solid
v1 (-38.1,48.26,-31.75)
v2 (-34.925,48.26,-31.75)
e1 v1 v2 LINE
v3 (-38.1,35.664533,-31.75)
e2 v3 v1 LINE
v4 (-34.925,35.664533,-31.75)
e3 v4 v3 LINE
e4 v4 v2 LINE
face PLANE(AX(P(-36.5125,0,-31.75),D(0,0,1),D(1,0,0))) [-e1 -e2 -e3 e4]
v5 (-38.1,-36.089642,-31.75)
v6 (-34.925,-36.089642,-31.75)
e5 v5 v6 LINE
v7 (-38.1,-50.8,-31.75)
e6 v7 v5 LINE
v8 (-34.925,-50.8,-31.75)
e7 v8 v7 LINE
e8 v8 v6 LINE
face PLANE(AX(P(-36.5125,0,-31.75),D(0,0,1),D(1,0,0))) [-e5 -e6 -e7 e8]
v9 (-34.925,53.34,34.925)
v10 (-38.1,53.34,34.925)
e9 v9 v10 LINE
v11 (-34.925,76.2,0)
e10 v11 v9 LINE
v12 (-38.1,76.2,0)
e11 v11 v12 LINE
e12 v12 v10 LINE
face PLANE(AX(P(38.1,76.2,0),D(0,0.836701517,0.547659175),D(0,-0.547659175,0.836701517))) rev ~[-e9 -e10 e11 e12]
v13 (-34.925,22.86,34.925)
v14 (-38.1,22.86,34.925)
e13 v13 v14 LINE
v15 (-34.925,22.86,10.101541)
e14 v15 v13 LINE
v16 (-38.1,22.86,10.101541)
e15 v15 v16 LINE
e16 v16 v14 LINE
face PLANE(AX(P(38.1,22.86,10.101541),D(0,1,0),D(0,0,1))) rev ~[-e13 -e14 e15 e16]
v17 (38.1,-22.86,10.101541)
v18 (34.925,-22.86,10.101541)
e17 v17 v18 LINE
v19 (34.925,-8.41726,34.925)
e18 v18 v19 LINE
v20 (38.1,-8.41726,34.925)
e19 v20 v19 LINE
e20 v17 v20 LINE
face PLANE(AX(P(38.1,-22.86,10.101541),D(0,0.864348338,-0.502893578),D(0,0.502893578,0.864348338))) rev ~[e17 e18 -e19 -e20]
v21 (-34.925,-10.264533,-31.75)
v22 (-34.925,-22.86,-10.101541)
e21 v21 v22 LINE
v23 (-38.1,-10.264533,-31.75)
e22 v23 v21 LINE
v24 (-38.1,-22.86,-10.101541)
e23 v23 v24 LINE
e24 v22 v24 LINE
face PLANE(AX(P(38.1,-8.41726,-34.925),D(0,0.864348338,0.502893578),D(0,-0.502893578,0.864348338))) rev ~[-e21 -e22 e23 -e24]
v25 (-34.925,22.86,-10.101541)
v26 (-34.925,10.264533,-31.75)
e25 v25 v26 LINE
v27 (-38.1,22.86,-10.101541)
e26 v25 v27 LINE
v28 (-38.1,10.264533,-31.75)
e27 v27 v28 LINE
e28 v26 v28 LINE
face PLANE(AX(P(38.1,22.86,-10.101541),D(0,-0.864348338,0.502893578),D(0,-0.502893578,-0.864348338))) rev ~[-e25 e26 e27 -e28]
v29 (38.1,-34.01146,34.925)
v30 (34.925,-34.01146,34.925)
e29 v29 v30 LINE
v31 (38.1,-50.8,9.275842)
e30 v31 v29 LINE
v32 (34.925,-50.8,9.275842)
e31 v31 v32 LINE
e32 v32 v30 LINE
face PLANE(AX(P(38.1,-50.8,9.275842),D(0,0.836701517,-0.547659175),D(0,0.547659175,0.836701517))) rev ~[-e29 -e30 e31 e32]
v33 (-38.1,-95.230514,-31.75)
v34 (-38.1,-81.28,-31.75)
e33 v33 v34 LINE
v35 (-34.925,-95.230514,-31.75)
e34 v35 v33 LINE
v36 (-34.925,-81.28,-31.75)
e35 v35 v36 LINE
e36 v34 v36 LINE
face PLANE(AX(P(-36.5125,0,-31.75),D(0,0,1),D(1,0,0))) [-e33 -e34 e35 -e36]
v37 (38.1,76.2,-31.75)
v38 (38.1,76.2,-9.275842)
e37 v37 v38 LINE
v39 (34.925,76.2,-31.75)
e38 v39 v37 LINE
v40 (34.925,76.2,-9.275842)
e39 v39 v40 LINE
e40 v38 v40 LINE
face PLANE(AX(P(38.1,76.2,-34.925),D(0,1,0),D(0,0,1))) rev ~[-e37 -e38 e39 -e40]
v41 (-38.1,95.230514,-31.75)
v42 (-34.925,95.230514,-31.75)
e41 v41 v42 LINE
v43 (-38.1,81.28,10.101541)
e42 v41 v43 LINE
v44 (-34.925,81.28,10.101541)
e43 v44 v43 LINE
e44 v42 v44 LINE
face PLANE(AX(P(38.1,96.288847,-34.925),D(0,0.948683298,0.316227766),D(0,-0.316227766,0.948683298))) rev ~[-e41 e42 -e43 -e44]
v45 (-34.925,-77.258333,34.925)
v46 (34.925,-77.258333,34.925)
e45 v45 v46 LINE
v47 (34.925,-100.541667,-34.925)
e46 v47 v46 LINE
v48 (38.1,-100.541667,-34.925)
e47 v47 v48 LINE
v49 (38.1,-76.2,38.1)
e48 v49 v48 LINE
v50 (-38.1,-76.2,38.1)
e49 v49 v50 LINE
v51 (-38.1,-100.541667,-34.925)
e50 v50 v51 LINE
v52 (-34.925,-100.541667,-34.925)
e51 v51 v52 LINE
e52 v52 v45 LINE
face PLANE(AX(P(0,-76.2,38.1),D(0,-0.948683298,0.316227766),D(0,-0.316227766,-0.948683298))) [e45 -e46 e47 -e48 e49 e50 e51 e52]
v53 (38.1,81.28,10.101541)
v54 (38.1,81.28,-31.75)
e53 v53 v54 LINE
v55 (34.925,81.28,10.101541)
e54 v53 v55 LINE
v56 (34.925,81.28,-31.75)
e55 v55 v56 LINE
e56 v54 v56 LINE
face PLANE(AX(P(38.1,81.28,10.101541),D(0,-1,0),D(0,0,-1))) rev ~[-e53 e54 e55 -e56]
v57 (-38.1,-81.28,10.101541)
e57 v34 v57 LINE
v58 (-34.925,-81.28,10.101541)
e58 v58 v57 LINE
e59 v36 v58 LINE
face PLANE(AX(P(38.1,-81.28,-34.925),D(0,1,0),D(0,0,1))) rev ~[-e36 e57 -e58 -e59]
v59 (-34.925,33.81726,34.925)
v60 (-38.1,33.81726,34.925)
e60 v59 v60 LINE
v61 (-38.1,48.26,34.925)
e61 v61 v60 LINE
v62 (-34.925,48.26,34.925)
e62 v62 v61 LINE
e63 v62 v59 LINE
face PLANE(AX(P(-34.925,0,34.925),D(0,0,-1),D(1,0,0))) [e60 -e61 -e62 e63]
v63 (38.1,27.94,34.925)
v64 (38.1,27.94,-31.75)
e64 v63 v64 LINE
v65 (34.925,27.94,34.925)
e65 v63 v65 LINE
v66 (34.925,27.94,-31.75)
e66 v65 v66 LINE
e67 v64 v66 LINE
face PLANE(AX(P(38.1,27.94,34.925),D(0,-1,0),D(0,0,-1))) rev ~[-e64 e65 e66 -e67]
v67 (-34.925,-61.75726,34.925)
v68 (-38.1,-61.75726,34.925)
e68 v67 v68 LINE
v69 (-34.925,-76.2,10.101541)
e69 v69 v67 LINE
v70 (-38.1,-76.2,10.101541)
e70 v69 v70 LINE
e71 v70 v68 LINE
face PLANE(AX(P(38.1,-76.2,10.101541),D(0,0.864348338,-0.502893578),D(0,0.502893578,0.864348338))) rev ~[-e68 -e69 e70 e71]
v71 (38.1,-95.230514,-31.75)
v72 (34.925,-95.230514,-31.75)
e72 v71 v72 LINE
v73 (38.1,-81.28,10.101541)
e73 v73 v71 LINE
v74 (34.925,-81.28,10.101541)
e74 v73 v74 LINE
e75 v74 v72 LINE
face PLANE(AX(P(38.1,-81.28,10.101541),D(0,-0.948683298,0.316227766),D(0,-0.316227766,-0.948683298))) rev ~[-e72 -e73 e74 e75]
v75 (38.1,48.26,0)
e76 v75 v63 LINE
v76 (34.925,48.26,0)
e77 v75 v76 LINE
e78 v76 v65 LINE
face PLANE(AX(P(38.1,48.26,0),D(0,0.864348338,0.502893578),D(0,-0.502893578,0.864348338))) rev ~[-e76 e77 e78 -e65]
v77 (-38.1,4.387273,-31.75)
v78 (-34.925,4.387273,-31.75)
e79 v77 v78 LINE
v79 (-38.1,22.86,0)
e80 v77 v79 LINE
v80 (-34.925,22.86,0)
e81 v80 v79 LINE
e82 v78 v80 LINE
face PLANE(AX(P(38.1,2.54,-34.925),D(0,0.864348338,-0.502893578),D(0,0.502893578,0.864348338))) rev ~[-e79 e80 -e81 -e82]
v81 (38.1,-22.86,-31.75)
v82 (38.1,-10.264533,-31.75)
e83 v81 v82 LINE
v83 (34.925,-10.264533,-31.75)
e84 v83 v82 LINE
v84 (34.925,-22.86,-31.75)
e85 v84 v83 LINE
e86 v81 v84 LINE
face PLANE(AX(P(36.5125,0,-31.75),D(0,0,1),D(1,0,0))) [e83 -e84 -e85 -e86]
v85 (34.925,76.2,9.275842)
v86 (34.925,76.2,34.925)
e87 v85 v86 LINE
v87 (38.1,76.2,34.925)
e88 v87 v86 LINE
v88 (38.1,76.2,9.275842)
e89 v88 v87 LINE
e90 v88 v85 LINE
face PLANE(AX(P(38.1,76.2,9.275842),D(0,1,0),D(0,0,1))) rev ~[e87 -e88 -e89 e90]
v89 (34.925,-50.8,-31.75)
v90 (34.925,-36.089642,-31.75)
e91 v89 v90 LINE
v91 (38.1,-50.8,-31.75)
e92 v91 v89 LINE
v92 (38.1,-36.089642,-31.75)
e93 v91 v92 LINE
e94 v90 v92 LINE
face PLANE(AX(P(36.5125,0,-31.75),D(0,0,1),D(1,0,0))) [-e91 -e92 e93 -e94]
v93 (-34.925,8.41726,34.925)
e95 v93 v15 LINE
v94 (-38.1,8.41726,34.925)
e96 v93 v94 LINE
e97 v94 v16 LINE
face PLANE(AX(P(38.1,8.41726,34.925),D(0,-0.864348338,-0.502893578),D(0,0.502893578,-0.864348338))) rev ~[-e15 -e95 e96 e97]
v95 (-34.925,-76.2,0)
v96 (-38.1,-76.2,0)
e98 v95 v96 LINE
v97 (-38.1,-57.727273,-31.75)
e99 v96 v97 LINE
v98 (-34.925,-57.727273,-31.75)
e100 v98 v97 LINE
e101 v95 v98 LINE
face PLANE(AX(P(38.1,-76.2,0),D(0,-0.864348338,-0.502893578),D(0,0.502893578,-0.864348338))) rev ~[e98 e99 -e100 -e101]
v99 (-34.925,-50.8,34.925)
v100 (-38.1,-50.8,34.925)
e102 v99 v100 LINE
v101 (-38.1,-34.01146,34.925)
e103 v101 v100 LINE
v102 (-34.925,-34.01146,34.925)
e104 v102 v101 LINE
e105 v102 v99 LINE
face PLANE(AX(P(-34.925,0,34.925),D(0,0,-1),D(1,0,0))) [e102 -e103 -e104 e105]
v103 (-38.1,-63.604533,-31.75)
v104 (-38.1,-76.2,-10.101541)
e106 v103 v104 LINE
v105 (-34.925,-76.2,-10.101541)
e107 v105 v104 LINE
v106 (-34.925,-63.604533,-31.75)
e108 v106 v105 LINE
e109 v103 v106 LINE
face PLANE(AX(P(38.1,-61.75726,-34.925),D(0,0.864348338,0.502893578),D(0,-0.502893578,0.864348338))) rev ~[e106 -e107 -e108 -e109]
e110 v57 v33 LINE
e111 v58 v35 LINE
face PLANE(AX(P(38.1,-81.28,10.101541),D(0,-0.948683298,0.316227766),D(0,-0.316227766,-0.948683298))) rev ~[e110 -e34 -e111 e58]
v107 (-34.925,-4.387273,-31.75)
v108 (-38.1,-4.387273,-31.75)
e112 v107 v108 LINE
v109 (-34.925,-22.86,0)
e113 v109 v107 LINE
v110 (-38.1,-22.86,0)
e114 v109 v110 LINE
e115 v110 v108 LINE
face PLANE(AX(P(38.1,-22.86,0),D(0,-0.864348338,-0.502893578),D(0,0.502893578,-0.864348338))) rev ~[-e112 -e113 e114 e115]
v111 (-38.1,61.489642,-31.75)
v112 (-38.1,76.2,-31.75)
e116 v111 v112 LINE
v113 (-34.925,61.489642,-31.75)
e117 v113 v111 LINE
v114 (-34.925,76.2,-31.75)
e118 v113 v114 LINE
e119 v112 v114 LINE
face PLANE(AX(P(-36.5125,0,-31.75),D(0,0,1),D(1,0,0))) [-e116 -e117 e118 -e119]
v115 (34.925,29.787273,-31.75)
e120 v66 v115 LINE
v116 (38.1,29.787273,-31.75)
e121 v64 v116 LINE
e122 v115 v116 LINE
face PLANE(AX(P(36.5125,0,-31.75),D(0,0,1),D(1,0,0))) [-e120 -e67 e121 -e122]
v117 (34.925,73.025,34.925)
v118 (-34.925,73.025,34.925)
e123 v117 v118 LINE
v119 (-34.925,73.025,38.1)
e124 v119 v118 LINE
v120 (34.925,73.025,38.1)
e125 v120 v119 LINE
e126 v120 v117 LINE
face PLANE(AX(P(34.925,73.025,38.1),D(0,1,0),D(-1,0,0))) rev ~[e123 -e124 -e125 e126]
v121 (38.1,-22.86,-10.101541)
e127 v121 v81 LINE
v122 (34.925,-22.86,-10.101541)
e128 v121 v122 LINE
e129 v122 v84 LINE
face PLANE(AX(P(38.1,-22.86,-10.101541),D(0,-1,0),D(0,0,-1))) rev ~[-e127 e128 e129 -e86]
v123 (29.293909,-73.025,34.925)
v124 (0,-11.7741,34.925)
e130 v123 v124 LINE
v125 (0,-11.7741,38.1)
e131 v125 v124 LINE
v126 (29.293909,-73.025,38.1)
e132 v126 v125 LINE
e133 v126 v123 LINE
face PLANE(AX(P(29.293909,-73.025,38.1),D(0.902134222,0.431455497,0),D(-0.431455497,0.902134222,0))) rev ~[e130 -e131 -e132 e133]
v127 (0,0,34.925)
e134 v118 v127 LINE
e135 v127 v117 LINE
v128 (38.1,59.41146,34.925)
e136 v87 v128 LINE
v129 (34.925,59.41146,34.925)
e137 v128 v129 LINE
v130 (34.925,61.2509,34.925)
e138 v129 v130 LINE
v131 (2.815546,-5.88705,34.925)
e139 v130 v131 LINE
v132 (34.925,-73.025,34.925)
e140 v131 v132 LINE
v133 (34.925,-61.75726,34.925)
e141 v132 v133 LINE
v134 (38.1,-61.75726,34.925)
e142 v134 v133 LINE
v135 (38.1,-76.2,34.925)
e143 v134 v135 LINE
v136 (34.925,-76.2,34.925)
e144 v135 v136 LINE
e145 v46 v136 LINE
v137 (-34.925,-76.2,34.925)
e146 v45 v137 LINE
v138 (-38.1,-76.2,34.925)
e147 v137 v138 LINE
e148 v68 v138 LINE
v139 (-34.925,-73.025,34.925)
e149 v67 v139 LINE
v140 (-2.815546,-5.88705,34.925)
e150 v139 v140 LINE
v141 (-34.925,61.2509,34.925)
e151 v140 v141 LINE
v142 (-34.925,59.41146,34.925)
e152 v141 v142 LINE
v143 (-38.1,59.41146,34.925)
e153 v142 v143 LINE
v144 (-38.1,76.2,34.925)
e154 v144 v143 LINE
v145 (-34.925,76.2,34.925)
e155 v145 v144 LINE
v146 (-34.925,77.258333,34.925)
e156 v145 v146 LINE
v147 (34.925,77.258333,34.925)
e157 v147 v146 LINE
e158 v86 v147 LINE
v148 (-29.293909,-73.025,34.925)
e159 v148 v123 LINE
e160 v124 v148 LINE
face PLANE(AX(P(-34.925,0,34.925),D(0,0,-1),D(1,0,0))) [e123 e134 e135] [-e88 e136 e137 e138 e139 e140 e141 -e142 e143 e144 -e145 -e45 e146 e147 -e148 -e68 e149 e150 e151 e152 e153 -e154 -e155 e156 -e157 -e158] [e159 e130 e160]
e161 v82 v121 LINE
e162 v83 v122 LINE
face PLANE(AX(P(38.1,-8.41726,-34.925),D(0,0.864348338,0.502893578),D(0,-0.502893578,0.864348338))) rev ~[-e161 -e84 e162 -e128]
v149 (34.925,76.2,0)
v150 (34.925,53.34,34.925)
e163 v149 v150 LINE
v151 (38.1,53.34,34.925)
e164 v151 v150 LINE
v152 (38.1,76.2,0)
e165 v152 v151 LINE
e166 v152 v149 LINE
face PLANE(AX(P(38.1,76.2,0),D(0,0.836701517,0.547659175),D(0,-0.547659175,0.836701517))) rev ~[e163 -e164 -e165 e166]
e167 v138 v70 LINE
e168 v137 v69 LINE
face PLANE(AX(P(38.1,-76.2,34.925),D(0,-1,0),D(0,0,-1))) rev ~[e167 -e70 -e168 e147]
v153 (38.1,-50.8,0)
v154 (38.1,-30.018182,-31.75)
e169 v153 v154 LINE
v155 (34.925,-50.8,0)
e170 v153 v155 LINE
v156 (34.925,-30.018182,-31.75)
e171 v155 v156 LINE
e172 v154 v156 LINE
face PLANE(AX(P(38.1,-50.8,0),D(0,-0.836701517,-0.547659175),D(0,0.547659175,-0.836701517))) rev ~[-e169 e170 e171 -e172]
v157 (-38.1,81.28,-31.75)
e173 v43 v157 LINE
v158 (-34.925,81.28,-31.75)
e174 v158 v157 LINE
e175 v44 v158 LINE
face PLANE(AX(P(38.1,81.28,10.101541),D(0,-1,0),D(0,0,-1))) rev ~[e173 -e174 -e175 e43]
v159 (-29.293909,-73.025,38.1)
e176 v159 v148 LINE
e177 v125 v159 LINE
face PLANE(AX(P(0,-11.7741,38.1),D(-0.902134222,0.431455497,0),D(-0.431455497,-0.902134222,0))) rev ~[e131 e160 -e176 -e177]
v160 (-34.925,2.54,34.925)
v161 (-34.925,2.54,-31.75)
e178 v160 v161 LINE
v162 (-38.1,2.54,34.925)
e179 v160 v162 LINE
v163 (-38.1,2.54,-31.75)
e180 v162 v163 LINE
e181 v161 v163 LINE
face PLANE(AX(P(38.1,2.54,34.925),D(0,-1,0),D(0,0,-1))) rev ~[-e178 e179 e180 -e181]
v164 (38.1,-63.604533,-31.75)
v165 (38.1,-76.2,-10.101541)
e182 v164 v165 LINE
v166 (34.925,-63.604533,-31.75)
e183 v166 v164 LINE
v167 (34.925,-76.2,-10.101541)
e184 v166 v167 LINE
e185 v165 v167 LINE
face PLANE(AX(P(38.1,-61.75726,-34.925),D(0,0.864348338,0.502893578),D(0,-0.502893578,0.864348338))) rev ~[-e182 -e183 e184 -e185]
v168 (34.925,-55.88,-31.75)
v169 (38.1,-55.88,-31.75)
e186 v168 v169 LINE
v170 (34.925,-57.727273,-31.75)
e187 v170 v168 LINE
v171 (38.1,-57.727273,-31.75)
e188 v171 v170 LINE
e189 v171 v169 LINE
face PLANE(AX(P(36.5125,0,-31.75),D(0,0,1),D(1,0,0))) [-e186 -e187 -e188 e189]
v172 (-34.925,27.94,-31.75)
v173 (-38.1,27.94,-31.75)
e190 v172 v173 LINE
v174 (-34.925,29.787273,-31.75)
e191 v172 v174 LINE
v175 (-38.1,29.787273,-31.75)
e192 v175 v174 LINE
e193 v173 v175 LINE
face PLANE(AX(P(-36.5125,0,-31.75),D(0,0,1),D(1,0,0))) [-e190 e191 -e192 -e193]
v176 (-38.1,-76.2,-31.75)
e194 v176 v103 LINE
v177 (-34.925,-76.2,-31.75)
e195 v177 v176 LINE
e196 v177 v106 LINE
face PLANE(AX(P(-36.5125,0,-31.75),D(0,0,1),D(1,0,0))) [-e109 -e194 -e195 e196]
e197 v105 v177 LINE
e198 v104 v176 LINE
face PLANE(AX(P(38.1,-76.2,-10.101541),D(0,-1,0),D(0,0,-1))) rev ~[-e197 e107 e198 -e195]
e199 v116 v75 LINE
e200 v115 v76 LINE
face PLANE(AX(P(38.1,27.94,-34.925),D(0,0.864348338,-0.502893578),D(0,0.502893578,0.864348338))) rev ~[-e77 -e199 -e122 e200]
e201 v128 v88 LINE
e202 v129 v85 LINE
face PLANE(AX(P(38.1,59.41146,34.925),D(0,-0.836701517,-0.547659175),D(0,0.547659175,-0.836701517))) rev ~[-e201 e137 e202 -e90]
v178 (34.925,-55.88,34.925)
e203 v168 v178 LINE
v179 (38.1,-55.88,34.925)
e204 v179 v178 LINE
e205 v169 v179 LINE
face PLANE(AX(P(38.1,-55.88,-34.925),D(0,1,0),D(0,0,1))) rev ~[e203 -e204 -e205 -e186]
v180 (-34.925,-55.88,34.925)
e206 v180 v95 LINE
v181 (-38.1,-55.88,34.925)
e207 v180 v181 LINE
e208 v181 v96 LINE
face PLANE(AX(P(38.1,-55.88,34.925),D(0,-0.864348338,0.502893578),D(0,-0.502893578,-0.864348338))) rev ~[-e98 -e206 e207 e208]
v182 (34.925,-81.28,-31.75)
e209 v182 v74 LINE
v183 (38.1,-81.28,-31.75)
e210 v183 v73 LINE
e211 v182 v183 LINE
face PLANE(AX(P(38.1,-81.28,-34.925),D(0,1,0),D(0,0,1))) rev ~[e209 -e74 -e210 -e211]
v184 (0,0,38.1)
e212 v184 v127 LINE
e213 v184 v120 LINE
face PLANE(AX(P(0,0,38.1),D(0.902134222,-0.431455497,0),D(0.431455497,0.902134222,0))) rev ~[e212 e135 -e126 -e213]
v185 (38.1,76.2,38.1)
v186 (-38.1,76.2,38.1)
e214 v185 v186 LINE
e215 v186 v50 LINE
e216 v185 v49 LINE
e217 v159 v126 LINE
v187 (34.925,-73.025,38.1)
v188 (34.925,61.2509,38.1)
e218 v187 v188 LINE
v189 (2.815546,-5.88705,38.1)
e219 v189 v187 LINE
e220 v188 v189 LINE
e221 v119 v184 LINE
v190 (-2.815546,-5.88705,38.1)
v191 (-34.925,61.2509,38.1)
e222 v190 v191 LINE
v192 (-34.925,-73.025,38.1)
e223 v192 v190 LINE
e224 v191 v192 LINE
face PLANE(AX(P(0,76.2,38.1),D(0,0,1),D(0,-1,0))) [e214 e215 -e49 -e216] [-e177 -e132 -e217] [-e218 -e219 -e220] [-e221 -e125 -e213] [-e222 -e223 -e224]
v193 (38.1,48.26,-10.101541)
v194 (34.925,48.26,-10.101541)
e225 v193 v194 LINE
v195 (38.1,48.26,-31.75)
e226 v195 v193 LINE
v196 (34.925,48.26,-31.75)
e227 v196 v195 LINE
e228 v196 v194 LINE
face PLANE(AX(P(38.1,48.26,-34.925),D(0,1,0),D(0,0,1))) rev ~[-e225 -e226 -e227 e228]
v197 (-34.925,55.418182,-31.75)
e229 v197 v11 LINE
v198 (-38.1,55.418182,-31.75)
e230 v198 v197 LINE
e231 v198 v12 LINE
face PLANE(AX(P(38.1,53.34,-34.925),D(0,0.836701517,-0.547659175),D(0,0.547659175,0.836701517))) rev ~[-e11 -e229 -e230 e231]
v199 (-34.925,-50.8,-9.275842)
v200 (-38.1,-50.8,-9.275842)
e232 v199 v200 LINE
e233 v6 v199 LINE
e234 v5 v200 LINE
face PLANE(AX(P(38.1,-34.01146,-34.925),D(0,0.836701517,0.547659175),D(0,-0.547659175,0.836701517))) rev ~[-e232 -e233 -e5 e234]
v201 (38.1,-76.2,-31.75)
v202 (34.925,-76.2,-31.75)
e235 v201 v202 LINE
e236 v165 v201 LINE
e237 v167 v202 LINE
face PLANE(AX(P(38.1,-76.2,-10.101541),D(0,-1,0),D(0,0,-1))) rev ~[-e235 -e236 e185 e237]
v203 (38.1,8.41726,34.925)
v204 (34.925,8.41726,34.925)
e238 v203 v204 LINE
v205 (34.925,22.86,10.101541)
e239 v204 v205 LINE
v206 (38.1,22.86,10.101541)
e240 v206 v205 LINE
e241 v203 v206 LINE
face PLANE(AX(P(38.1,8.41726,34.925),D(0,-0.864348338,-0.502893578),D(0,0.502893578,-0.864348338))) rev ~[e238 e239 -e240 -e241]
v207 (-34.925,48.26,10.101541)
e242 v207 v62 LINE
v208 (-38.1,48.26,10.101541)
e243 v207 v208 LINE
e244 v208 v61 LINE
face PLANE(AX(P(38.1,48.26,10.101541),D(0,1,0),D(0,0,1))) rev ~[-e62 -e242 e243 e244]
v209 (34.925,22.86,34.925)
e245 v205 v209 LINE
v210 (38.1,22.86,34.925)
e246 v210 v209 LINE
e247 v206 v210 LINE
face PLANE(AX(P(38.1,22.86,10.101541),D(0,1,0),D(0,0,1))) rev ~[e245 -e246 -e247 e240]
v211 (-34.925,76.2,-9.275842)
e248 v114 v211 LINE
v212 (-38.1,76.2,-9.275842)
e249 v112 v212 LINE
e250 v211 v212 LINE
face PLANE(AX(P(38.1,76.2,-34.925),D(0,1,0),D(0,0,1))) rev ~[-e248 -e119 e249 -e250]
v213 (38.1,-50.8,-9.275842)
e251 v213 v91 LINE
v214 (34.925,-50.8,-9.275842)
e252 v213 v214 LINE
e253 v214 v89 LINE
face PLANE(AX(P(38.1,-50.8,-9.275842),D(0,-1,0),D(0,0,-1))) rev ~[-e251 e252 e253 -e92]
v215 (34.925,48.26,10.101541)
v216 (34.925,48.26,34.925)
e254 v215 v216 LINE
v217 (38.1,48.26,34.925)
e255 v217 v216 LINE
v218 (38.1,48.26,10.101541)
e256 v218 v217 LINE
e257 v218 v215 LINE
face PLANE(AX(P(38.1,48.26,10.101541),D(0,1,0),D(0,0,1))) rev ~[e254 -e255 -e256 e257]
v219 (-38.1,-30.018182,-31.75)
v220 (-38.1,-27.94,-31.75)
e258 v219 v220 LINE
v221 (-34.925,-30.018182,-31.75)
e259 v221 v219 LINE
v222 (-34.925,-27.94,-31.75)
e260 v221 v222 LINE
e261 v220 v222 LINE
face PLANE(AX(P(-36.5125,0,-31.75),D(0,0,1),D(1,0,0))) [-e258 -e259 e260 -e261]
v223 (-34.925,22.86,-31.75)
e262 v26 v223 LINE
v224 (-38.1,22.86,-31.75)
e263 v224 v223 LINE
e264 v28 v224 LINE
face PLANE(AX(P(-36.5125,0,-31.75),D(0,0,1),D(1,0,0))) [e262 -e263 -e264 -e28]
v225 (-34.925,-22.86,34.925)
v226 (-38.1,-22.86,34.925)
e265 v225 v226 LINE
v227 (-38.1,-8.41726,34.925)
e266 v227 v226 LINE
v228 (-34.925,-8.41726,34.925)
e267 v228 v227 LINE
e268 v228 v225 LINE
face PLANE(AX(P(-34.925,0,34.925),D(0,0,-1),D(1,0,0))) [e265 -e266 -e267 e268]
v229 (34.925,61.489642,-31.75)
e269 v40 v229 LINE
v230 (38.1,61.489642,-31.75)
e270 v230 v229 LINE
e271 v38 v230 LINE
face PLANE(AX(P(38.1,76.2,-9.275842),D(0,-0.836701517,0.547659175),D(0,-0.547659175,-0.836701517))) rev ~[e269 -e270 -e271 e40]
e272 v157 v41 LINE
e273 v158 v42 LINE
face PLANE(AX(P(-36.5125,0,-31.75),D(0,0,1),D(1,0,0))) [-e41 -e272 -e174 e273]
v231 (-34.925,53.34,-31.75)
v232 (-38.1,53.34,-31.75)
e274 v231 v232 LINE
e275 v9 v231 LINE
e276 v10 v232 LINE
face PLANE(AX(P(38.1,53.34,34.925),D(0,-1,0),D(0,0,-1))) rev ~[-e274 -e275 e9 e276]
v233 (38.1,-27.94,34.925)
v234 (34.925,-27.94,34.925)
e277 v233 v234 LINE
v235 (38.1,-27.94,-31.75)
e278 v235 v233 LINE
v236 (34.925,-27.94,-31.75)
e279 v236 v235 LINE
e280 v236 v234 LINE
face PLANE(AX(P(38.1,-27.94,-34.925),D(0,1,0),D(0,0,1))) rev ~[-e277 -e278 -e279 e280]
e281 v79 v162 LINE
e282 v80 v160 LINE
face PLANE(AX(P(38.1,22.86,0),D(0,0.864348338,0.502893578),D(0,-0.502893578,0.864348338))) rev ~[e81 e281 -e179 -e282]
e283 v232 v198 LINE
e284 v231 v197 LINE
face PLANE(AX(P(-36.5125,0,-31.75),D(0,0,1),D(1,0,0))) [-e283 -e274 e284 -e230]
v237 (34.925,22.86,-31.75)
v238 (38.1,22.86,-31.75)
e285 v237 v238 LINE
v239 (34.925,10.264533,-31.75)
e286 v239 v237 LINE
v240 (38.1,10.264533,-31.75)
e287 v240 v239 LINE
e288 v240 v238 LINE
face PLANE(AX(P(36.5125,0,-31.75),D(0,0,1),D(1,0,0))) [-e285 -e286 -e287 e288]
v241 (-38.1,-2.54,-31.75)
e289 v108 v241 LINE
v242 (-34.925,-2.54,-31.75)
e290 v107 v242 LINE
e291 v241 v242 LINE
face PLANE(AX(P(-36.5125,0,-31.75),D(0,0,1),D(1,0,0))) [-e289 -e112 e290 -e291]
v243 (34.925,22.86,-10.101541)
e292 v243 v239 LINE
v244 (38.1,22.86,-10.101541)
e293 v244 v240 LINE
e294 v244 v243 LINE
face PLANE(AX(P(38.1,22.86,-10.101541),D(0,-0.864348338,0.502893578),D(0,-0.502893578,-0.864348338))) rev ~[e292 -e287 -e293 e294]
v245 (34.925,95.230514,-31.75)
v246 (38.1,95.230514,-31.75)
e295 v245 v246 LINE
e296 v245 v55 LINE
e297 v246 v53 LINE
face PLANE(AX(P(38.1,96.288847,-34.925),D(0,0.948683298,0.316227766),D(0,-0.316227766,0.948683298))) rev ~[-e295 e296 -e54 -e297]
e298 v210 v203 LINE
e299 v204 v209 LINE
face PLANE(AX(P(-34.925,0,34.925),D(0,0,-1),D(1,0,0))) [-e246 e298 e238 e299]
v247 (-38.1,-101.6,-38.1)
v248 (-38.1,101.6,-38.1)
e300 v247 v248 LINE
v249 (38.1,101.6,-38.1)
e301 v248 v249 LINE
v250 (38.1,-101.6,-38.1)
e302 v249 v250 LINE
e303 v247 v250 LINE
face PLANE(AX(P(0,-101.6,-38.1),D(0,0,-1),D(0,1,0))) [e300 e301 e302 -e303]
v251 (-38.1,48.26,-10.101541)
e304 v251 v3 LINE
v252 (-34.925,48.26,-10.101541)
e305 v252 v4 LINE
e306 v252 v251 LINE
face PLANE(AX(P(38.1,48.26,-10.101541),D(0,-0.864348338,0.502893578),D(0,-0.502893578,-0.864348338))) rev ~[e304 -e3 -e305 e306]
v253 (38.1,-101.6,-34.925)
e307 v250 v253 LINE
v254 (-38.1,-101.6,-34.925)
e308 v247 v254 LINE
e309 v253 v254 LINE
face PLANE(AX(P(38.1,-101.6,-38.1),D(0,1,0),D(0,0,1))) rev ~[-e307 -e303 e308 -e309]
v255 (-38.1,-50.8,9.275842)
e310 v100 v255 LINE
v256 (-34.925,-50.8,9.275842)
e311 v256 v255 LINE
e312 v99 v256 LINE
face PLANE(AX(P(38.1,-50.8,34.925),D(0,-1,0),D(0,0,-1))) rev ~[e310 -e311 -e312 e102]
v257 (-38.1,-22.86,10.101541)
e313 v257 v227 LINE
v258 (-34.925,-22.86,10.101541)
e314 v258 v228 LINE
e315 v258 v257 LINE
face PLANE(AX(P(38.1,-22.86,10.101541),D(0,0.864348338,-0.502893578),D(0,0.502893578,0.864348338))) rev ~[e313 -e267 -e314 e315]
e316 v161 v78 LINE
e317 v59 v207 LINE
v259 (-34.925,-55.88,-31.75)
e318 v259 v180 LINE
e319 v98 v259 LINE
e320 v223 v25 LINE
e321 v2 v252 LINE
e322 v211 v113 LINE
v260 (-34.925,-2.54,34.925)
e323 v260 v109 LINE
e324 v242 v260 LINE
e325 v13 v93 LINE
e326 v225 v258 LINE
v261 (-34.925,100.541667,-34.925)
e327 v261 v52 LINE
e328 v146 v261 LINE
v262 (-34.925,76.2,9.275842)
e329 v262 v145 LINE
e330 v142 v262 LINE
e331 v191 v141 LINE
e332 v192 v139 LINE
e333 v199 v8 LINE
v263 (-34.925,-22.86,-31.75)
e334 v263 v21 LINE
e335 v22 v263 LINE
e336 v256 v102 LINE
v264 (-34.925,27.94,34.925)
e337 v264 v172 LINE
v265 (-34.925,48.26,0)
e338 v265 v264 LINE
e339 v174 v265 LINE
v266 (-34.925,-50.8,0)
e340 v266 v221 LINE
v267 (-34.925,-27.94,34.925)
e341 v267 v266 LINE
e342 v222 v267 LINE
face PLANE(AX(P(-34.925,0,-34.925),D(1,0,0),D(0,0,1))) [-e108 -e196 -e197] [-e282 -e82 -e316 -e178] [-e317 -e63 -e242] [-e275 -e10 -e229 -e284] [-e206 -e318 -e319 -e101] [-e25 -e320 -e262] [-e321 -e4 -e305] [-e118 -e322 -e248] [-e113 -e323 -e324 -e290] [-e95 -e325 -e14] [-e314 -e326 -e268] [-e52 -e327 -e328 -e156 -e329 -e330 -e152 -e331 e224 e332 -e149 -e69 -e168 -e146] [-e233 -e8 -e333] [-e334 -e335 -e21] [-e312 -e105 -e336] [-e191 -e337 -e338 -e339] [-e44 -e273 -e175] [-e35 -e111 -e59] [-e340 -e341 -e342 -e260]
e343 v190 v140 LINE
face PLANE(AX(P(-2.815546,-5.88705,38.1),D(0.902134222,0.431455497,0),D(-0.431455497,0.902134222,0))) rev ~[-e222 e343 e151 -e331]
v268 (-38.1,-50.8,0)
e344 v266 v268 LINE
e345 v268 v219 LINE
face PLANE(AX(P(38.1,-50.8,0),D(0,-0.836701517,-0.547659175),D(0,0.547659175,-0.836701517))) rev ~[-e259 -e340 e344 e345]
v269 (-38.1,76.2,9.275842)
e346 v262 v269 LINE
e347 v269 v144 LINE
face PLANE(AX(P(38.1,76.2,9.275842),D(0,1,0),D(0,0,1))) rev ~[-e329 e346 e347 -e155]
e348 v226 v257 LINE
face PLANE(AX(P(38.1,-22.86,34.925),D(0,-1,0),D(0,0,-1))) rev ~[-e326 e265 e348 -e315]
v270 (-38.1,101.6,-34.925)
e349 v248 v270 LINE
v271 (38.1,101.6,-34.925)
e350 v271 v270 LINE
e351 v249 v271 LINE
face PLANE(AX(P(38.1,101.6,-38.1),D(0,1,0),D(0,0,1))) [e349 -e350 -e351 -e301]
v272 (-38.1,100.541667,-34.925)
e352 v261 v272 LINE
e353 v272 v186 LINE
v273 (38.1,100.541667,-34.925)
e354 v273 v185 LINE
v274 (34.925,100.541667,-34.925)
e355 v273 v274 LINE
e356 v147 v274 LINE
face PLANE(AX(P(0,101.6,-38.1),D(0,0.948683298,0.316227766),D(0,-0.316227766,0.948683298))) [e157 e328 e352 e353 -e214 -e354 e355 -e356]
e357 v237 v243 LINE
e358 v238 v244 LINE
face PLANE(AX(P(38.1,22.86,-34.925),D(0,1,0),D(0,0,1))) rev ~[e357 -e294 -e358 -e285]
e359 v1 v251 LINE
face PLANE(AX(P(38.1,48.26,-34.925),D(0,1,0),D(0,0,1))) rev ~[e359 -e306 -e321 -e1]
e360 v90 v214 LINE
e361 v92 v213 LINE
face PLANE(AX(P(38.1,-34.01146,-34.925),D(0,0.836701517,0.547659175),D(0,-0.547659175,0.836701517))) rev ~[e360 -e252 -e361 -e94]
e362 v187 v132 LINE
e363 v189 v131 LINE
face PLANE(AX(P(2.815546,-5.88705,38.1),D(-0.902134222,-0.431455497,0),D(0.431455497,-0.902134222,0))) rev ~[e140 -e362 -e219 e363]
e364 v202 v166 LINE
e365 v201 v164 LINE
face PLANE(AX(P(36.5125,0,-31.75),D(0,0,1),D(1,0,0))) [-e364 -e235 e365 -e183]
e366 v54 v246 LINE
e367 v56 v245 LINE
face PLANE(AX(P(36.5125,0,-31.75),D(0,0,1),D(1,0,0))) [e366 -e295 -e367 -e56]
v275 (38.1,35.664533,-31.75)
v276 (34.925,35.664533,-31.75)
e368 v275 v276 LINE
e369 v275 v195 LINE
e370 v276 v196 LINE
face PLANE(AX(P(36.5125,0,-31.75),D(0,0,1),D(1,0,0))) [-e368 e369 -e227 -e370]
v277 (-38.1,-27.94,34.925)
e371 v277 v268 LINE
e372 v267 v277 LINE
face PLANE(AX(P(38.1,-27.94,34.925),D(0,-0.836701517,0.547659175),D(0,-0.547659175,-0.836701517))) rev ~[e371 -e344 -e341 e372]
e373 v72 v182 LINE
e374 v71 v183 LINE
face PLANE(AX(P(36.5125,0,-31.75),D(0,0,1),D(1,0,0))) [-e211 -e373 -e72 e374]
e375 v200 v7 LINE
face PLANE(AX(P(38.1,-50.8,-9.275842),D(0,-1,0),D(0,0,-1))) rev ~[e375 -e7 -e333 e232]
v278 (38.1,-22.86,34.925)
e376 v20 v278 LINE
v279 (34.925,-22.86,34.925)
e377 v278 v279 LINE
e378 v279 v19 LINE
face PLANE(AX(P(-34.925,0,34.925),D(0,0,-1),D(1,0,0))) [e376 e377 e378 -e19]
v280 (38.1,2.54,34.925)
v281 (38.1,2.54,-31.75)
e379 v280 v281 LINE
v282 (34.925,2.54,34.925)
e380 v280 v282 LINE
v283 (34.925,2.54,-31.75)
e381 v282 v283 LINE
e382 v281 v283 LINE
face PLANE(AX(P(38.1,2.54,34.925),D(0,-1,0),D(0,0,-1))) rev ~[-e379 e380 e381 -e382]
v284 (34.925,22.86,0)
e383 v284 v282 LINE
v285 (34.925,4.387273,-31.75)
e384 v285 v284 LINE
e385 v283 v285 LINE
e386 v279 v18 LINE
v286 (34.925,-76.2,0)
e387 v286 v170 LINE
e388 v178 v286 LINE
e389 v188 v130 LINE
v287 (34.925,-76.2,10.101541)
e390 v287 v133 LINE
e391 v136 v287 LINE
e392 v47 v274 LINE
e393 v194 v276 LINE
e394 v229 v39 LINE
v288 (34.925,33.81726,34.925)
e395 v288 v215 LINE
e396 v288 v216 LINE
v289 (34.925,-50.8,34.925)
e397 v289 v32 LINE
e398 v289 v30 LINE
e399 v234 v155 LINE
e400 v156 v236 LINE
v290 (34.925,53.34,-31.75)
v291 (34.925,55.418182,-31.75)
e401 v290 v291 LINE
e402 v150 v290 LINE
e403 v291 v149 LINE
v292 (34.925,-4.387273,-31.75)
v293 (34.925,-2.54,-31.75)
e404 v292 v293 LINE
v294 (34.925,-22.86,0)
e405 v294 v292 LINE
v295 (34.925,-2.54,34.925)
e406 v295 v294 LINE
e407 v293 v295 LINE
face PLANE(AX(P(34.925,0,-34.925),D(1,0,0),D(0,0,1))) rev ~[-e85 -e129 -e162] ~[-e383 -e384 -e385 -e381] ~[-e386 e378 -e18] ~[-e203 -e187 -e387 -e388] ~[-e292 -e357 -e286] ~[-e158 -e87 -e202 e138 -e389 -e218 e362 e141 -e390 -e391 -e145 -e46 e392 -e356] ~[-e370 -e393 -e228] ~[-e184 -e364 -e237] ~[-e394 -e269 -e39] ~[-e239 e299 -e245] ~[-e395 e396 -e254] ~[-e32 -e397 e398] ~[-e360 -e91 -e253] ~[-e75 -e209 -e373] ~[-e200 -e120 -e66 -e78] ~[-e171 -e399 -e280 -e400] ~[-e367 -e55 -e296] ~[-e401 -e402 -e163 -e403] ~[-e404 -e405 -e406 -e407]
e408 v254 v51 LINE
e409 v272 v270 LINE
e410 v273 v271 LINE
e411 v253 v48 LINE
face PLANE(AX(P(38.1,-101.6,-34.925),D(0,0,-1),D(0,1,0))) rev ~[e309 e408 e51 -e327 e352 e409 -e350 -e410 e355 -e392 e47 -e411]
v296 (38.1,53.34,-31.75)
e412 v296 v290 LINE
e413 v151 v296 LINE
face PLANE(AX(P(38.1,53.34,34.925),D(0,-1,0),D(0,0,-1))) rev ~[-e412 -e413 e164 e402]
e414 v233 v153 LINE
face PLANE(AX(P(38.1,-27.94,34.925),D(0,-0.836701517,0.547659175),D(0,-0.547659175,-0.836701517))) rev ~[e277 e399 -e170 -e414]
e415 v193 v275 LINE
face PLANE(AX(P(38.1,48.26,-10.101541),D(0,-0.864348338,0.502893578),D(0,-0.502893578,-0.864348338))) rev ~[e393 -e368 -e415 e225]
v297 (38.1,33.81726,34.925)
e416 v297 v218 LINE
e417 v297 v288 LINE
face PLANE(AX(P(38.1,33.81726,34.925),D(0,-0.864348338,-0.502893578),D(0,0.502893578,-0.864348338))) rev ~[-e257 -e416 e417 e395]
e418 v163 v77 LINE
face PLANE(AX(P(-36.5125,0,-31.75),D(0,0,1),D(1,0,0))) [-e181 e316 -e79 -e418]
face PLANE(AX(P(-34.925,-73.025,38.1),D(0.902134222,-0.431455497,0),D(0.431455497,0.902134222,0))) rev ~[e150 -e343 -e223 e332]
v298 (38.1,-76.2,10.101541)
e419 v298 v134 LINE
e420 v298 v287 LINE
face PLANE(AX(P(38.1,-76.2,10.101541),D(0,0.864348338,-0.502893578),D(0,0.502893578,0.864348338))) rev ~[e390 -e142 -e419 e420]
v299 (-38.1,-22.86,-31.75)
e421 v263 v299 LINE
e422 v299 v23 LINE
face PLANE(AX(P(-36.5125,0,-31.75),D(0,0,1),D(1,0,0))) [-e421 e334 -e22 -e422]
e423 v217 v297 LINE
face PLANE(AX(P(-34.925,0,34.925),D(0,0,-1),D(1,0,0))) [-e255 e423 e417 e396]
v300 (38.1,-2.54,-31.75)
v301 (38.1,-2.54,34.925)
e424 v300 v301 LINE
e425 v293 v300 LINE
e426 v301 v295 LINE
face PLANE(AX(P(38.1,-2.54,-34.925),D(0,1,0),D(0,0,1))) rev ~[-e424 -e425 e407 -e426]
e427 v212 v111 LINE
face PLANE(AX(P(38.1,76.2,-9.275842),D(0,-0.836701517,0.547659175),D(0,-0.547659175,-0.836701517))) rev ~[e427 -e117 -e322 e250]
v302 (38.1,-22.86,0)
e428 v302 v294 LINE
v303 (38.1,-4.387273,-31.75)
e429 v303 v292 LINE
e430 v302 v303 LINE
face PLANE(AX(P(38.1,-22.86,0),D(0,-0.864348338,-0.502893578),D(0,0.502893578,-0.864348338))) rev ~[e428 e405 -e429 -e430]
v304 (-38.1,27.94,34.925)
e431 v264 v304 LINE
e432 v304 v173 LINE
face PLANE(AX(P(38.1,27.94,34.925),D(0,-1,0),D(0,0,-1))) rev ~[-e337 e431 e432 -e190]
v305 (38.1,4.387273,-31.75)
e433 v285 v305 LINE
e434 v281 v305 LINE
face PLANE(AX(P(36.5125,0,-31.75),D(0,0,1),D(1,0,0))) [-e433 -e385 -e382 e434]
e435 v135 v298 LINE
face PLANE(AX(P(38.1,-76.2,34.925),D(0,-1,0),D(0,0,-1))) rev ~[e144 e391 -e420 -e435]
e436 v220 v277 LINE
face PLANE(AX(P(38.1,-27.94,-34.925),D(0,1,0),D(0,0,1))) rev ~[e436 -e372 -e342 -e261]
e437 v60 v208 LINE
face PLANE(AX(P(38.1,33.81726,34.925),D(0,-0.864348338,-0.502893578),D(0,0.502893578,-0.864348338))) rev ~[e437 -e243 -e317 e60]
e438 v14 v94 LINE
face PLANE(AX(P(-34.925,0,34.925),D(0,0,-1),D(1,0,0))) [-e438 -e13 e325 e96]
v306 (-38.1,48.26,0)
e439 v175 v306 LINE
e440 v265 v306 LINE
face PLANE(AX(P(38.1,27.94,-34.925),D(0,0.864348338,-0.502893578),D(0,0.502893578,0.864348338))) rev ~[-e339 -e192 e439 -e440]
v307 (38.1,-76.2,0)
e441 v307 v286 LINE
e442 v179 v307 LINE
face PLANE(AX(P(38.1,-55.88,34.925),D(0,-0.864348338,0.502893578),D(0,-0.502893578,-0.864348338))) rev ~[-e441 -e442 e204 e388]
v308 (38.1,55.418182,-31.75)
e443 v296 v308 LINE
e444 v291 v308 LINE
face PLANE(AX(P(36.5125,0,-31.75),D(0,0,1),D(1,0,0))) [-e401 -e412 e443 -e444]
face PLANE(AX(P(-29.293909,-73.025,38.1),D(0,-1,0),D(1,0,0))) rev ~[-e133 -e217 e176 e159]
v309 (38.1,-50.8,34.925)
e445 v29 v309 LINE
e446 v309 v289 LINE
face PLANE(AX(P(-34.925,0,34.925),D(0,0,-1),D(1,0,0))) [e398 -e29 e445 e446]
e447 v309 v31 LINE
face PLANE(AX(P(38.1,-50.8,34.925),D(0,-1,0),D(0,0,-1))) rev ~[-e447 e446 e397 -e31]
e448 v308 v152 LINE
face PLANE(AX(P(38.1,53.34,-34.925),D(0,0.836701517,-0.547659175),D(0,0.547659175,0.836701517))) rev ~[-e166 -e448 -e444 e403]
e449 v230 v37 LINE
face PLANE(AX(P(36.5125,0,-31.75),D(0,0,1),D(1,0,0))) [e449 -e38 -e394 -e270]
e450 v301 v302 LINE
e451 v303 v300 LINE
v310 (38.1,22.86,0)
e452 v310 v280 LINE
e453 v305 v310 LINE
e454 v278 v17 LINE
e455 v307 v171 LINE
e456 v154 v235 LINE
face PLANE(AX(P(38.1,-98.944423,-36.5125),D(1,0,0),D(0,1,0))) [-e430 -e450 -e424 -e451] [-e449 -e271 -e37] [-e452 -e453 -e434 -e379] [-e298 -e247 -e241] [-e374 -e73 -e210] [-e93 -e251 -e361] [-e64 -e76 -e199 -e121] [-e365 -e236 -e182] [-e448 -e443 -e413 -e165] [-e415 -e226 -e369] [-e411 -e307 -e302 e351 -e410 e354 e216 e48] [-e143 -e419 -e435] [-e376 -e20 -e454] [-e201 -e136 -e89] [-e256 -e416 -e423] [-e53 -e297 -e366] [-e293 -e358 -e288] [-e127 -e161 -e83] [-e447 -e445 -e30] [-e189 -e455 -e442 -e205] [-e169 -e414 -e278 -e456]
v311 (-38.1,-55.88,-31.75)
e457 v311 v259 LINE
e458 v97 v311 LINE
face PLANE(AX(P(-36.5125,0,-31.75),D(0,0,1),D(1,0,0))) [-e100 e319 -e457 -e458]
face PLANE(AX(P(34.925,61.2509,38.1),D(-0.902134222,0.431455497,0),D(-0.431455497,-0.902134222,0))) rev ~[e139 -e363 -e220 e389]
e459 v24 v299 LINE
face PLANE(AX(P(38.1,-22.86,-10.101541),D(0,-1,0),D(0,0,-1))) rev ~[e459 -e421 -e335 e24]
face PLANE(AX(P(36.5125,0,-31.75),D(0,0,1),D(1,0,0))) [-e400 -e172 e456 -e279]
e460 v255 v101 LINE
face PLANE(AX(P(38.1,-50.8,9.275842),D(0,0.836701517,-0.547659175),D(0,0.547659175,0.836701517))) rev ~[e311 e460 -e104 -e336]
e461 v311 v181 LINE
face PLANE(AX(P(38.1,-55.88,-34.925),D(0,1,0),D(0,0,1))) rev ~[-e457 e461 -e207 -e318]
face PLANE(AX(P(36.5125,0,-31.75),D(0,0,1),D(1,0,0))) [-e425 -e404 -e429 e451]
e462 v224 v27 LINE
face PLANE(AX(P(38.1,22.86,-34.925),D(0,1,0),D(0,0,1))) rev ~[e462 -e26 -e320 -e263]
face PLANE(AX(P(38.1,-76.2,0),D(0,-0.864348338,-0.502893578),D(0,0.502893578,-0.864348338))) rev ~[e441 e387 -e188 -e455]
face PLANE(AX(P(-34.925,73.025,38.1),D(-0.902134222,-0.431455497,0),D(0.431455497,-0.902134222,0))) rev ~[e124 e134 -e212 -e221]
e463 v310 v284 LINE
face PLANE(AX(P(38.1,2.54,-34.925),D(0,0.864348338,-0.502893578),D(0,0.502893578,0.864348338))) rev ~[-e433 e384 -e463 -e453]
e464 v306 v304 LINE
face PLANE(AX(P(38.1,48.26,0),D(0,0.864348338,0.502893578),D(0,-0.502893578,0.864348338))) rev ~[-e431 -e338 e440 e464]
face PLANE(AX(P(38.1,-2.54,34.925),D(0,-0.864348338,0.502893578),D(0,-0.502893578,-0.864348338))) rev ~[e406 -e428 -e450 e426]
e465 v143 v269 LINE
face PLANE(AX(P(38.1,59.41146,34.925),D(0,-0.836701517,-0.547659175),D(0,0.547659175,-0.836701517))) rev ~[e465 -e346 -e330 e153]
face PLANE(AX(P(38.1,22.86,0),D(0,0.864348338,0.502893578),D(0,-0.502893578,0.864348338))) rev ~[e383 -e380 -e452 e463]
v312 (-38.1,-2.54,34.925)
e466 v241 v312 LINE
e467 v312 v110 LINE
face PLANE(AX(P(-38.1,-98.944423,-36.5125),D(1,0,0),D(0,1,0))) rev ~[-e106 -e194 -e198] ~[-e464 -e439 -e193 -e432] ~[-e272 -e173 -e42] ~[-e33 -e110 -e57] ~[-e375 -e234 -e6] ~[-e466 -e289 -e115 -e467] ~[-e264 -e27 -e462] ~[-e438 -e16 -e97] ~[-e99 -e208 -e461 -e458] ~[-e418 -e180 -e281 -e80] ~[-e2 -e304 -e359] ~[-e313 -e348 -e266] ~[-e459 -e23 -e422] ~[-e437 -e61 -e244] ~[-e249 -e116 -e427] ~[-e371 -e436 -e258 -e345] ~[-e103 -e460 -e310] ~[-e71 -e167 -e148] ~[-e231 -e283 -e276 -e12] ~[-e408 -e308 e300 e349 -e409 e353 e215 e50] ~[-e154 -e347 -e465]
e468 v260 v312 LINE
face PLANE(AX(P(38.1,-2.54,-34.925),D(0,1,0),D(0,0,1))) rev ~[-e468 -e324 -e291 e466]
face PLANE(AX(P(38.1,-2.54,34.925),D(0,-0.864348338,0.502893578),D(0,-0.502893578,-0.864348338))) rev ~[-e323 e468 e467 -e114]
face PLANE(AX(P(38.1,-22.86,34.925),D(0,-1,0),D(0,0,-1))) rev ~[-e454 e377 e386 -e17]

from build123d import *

# Parameters (mm, degrees)
F1_DEPTH  = 38.1
F2_W      = 69.85
F2_H      = 69.85
F3_DEPTH  = 127
F5_DEPTH  = 76.2
F6_W      = 5.3111530662
F6_H      = 3.175
F7_DEPTH  = 76.2
F9_DEPTH  = 3.175
F10_W     = 3.175
F10_H     = 192.5776938676
F11_DEPTH = 3.175


with BuildPart() as f1:
    # F0 (on Right) → F1 (new body, symmetric)
    with BuildSketch(Plane.YZ):
        Polygon((-76.2, 38.1), (-101.6, -38.1), (101.6, -38.1), (76.2, 38.1), align=None)
    extrude(amount=F1_DEPTH, both=True)

    # F2 (on Front) → F3 (cut, symmetric)
    with BuildSketch(Plane.XZ):
        Rectangle(F2_W, F2_H)
    extrude(amount=F3_DEPTH, both=True, mode=Mode.SUBTRACT)

    # F4 (on face) → F5 (cut)
    with BuildSketch(Plane.YZ.offset(38.1)):
        Polygon((-96.2888469338, -34.925), (-81.28, -34.925), (-81.28, 10.1015408014), align=None)
        Polygon((-76.2, 10.1015408014), (-61.7572601026, 34.925), (-76.2, 34.925), align=None)
        Polygon((-76.2, 0), (-55.88, -34.925), (-55.88, 34.925), align=None)
        Polygon((-76.2, -34.925), (-61.7572601026, -34.925), (-76.2, -10.1015408014), align=None)
        Polygon((-50.8, 9.2758420469), (-34.0114602489, 34.925), (-50.8, 34.925), align=None)
        Polygon((-50.8, 0), (-27.94, -34.925), (-27.94, 34.925), align=None)
        Polygon((-50.8, -34.925), (-34.0114602489, -34.925), (-50.8, -9.2758420469), align=None)
        Polygon((-22.86, 10.1015408014), (-8.4172601026, 34.925), (-22.86, 34.925), align=None)
        Polygon((-22.86, 0), (-2.54, -34.925), (-2.54, 34.925), align=None)
        Polygon((-22.86, -34.925), (-8.4172601026, -34.925), (-22.86, -10.1015408014), align=None)
        Polygon((2.54, 34.925), (2.54, -34.925), (22.86, 0), align=None)
        Polygon((22.86, 10.1015408014), (22.86, 34.925), (8.4172601026, 34.925), align=None)
        Polygon((27.94, 34.925), (27.94, -34.925), (48.26, 0), align=None)
        Polygon((8.4172601026, -34.925), (22.86, -34.925), (22.86, -10.1015408014), align=None)
        Polygon((48.26, 10.1015408014), (48.26, 34.925), (33.8172601026, 34.925), align=None)
        Polygon((33.8172601026, -34.925), (48.26, -34.925), (48.26, -10.1015408014), align=None)
        Polygon((53.34, 34.925), (53.34, -34.925), (76.2, 0), align=None)
        Polygon((59.4114602489, 34.925), (76.2, 9.2758420469), (76.2, 34.925), align=None)
        Polygon((59.4114602489, -34.925), (76.2, -34.925), (76.2, -9.2758420469), align=None)
        Polygon((81.28, 10.1015408014), (81.28, -34.925), (96.2888469338, -34.925), align=None)
    extrude(amount=-F5_DEPTH, mode=Mode.SUBTRACT)

    # F6 (on face) → F7 (join)
    with BuildSketch(Plane.YZ.offset(38.1)):
        with Locations((-98.9444234669, -36.5125)):
            Rectangle(F6_W, F6_H)
        with Locations((98.9444234669, -36.5125)):
            Rectangle(F6_W, F6_H)
    extrude(amount=-F7_DEPTH)

    # F8 (on face) → F9 (cut)
    with BuildSketch(Plane.XY.offset(38.1)):
        Polygon((-34.925, 61.2509003959), (-34.925, -73.025), (-2.8155455575, -5.8870498021), align=None)
        Polygon((0, 0), (34.925, 73.025), (-34.925, 73.025), align=None)
        Polygon((2.8155455575, -5.8870498021), (34.925, -73.025), (34.925, 61.2509003959), align=None)
        Polygon((-29.293908885, -73.025), (29.293908885, -73.025), (0, -11.7740996041), align=None)
    extrude(amount=-F9_DEPTH, mode=Mode.SUBTRACT)

    # F10 (on face) → F11 (join)
    with BuildSketch(Plane.XY.offset(-34.925)):
        with Locations((36.5125, 0)):
            Rectangle(F10_W, F10_H)
        with Locations((-36.5125, 0)):
            Rectangle(F10_W, F10_H)
    extrude(amount=F11_DEPTH)


solid = f1.part
